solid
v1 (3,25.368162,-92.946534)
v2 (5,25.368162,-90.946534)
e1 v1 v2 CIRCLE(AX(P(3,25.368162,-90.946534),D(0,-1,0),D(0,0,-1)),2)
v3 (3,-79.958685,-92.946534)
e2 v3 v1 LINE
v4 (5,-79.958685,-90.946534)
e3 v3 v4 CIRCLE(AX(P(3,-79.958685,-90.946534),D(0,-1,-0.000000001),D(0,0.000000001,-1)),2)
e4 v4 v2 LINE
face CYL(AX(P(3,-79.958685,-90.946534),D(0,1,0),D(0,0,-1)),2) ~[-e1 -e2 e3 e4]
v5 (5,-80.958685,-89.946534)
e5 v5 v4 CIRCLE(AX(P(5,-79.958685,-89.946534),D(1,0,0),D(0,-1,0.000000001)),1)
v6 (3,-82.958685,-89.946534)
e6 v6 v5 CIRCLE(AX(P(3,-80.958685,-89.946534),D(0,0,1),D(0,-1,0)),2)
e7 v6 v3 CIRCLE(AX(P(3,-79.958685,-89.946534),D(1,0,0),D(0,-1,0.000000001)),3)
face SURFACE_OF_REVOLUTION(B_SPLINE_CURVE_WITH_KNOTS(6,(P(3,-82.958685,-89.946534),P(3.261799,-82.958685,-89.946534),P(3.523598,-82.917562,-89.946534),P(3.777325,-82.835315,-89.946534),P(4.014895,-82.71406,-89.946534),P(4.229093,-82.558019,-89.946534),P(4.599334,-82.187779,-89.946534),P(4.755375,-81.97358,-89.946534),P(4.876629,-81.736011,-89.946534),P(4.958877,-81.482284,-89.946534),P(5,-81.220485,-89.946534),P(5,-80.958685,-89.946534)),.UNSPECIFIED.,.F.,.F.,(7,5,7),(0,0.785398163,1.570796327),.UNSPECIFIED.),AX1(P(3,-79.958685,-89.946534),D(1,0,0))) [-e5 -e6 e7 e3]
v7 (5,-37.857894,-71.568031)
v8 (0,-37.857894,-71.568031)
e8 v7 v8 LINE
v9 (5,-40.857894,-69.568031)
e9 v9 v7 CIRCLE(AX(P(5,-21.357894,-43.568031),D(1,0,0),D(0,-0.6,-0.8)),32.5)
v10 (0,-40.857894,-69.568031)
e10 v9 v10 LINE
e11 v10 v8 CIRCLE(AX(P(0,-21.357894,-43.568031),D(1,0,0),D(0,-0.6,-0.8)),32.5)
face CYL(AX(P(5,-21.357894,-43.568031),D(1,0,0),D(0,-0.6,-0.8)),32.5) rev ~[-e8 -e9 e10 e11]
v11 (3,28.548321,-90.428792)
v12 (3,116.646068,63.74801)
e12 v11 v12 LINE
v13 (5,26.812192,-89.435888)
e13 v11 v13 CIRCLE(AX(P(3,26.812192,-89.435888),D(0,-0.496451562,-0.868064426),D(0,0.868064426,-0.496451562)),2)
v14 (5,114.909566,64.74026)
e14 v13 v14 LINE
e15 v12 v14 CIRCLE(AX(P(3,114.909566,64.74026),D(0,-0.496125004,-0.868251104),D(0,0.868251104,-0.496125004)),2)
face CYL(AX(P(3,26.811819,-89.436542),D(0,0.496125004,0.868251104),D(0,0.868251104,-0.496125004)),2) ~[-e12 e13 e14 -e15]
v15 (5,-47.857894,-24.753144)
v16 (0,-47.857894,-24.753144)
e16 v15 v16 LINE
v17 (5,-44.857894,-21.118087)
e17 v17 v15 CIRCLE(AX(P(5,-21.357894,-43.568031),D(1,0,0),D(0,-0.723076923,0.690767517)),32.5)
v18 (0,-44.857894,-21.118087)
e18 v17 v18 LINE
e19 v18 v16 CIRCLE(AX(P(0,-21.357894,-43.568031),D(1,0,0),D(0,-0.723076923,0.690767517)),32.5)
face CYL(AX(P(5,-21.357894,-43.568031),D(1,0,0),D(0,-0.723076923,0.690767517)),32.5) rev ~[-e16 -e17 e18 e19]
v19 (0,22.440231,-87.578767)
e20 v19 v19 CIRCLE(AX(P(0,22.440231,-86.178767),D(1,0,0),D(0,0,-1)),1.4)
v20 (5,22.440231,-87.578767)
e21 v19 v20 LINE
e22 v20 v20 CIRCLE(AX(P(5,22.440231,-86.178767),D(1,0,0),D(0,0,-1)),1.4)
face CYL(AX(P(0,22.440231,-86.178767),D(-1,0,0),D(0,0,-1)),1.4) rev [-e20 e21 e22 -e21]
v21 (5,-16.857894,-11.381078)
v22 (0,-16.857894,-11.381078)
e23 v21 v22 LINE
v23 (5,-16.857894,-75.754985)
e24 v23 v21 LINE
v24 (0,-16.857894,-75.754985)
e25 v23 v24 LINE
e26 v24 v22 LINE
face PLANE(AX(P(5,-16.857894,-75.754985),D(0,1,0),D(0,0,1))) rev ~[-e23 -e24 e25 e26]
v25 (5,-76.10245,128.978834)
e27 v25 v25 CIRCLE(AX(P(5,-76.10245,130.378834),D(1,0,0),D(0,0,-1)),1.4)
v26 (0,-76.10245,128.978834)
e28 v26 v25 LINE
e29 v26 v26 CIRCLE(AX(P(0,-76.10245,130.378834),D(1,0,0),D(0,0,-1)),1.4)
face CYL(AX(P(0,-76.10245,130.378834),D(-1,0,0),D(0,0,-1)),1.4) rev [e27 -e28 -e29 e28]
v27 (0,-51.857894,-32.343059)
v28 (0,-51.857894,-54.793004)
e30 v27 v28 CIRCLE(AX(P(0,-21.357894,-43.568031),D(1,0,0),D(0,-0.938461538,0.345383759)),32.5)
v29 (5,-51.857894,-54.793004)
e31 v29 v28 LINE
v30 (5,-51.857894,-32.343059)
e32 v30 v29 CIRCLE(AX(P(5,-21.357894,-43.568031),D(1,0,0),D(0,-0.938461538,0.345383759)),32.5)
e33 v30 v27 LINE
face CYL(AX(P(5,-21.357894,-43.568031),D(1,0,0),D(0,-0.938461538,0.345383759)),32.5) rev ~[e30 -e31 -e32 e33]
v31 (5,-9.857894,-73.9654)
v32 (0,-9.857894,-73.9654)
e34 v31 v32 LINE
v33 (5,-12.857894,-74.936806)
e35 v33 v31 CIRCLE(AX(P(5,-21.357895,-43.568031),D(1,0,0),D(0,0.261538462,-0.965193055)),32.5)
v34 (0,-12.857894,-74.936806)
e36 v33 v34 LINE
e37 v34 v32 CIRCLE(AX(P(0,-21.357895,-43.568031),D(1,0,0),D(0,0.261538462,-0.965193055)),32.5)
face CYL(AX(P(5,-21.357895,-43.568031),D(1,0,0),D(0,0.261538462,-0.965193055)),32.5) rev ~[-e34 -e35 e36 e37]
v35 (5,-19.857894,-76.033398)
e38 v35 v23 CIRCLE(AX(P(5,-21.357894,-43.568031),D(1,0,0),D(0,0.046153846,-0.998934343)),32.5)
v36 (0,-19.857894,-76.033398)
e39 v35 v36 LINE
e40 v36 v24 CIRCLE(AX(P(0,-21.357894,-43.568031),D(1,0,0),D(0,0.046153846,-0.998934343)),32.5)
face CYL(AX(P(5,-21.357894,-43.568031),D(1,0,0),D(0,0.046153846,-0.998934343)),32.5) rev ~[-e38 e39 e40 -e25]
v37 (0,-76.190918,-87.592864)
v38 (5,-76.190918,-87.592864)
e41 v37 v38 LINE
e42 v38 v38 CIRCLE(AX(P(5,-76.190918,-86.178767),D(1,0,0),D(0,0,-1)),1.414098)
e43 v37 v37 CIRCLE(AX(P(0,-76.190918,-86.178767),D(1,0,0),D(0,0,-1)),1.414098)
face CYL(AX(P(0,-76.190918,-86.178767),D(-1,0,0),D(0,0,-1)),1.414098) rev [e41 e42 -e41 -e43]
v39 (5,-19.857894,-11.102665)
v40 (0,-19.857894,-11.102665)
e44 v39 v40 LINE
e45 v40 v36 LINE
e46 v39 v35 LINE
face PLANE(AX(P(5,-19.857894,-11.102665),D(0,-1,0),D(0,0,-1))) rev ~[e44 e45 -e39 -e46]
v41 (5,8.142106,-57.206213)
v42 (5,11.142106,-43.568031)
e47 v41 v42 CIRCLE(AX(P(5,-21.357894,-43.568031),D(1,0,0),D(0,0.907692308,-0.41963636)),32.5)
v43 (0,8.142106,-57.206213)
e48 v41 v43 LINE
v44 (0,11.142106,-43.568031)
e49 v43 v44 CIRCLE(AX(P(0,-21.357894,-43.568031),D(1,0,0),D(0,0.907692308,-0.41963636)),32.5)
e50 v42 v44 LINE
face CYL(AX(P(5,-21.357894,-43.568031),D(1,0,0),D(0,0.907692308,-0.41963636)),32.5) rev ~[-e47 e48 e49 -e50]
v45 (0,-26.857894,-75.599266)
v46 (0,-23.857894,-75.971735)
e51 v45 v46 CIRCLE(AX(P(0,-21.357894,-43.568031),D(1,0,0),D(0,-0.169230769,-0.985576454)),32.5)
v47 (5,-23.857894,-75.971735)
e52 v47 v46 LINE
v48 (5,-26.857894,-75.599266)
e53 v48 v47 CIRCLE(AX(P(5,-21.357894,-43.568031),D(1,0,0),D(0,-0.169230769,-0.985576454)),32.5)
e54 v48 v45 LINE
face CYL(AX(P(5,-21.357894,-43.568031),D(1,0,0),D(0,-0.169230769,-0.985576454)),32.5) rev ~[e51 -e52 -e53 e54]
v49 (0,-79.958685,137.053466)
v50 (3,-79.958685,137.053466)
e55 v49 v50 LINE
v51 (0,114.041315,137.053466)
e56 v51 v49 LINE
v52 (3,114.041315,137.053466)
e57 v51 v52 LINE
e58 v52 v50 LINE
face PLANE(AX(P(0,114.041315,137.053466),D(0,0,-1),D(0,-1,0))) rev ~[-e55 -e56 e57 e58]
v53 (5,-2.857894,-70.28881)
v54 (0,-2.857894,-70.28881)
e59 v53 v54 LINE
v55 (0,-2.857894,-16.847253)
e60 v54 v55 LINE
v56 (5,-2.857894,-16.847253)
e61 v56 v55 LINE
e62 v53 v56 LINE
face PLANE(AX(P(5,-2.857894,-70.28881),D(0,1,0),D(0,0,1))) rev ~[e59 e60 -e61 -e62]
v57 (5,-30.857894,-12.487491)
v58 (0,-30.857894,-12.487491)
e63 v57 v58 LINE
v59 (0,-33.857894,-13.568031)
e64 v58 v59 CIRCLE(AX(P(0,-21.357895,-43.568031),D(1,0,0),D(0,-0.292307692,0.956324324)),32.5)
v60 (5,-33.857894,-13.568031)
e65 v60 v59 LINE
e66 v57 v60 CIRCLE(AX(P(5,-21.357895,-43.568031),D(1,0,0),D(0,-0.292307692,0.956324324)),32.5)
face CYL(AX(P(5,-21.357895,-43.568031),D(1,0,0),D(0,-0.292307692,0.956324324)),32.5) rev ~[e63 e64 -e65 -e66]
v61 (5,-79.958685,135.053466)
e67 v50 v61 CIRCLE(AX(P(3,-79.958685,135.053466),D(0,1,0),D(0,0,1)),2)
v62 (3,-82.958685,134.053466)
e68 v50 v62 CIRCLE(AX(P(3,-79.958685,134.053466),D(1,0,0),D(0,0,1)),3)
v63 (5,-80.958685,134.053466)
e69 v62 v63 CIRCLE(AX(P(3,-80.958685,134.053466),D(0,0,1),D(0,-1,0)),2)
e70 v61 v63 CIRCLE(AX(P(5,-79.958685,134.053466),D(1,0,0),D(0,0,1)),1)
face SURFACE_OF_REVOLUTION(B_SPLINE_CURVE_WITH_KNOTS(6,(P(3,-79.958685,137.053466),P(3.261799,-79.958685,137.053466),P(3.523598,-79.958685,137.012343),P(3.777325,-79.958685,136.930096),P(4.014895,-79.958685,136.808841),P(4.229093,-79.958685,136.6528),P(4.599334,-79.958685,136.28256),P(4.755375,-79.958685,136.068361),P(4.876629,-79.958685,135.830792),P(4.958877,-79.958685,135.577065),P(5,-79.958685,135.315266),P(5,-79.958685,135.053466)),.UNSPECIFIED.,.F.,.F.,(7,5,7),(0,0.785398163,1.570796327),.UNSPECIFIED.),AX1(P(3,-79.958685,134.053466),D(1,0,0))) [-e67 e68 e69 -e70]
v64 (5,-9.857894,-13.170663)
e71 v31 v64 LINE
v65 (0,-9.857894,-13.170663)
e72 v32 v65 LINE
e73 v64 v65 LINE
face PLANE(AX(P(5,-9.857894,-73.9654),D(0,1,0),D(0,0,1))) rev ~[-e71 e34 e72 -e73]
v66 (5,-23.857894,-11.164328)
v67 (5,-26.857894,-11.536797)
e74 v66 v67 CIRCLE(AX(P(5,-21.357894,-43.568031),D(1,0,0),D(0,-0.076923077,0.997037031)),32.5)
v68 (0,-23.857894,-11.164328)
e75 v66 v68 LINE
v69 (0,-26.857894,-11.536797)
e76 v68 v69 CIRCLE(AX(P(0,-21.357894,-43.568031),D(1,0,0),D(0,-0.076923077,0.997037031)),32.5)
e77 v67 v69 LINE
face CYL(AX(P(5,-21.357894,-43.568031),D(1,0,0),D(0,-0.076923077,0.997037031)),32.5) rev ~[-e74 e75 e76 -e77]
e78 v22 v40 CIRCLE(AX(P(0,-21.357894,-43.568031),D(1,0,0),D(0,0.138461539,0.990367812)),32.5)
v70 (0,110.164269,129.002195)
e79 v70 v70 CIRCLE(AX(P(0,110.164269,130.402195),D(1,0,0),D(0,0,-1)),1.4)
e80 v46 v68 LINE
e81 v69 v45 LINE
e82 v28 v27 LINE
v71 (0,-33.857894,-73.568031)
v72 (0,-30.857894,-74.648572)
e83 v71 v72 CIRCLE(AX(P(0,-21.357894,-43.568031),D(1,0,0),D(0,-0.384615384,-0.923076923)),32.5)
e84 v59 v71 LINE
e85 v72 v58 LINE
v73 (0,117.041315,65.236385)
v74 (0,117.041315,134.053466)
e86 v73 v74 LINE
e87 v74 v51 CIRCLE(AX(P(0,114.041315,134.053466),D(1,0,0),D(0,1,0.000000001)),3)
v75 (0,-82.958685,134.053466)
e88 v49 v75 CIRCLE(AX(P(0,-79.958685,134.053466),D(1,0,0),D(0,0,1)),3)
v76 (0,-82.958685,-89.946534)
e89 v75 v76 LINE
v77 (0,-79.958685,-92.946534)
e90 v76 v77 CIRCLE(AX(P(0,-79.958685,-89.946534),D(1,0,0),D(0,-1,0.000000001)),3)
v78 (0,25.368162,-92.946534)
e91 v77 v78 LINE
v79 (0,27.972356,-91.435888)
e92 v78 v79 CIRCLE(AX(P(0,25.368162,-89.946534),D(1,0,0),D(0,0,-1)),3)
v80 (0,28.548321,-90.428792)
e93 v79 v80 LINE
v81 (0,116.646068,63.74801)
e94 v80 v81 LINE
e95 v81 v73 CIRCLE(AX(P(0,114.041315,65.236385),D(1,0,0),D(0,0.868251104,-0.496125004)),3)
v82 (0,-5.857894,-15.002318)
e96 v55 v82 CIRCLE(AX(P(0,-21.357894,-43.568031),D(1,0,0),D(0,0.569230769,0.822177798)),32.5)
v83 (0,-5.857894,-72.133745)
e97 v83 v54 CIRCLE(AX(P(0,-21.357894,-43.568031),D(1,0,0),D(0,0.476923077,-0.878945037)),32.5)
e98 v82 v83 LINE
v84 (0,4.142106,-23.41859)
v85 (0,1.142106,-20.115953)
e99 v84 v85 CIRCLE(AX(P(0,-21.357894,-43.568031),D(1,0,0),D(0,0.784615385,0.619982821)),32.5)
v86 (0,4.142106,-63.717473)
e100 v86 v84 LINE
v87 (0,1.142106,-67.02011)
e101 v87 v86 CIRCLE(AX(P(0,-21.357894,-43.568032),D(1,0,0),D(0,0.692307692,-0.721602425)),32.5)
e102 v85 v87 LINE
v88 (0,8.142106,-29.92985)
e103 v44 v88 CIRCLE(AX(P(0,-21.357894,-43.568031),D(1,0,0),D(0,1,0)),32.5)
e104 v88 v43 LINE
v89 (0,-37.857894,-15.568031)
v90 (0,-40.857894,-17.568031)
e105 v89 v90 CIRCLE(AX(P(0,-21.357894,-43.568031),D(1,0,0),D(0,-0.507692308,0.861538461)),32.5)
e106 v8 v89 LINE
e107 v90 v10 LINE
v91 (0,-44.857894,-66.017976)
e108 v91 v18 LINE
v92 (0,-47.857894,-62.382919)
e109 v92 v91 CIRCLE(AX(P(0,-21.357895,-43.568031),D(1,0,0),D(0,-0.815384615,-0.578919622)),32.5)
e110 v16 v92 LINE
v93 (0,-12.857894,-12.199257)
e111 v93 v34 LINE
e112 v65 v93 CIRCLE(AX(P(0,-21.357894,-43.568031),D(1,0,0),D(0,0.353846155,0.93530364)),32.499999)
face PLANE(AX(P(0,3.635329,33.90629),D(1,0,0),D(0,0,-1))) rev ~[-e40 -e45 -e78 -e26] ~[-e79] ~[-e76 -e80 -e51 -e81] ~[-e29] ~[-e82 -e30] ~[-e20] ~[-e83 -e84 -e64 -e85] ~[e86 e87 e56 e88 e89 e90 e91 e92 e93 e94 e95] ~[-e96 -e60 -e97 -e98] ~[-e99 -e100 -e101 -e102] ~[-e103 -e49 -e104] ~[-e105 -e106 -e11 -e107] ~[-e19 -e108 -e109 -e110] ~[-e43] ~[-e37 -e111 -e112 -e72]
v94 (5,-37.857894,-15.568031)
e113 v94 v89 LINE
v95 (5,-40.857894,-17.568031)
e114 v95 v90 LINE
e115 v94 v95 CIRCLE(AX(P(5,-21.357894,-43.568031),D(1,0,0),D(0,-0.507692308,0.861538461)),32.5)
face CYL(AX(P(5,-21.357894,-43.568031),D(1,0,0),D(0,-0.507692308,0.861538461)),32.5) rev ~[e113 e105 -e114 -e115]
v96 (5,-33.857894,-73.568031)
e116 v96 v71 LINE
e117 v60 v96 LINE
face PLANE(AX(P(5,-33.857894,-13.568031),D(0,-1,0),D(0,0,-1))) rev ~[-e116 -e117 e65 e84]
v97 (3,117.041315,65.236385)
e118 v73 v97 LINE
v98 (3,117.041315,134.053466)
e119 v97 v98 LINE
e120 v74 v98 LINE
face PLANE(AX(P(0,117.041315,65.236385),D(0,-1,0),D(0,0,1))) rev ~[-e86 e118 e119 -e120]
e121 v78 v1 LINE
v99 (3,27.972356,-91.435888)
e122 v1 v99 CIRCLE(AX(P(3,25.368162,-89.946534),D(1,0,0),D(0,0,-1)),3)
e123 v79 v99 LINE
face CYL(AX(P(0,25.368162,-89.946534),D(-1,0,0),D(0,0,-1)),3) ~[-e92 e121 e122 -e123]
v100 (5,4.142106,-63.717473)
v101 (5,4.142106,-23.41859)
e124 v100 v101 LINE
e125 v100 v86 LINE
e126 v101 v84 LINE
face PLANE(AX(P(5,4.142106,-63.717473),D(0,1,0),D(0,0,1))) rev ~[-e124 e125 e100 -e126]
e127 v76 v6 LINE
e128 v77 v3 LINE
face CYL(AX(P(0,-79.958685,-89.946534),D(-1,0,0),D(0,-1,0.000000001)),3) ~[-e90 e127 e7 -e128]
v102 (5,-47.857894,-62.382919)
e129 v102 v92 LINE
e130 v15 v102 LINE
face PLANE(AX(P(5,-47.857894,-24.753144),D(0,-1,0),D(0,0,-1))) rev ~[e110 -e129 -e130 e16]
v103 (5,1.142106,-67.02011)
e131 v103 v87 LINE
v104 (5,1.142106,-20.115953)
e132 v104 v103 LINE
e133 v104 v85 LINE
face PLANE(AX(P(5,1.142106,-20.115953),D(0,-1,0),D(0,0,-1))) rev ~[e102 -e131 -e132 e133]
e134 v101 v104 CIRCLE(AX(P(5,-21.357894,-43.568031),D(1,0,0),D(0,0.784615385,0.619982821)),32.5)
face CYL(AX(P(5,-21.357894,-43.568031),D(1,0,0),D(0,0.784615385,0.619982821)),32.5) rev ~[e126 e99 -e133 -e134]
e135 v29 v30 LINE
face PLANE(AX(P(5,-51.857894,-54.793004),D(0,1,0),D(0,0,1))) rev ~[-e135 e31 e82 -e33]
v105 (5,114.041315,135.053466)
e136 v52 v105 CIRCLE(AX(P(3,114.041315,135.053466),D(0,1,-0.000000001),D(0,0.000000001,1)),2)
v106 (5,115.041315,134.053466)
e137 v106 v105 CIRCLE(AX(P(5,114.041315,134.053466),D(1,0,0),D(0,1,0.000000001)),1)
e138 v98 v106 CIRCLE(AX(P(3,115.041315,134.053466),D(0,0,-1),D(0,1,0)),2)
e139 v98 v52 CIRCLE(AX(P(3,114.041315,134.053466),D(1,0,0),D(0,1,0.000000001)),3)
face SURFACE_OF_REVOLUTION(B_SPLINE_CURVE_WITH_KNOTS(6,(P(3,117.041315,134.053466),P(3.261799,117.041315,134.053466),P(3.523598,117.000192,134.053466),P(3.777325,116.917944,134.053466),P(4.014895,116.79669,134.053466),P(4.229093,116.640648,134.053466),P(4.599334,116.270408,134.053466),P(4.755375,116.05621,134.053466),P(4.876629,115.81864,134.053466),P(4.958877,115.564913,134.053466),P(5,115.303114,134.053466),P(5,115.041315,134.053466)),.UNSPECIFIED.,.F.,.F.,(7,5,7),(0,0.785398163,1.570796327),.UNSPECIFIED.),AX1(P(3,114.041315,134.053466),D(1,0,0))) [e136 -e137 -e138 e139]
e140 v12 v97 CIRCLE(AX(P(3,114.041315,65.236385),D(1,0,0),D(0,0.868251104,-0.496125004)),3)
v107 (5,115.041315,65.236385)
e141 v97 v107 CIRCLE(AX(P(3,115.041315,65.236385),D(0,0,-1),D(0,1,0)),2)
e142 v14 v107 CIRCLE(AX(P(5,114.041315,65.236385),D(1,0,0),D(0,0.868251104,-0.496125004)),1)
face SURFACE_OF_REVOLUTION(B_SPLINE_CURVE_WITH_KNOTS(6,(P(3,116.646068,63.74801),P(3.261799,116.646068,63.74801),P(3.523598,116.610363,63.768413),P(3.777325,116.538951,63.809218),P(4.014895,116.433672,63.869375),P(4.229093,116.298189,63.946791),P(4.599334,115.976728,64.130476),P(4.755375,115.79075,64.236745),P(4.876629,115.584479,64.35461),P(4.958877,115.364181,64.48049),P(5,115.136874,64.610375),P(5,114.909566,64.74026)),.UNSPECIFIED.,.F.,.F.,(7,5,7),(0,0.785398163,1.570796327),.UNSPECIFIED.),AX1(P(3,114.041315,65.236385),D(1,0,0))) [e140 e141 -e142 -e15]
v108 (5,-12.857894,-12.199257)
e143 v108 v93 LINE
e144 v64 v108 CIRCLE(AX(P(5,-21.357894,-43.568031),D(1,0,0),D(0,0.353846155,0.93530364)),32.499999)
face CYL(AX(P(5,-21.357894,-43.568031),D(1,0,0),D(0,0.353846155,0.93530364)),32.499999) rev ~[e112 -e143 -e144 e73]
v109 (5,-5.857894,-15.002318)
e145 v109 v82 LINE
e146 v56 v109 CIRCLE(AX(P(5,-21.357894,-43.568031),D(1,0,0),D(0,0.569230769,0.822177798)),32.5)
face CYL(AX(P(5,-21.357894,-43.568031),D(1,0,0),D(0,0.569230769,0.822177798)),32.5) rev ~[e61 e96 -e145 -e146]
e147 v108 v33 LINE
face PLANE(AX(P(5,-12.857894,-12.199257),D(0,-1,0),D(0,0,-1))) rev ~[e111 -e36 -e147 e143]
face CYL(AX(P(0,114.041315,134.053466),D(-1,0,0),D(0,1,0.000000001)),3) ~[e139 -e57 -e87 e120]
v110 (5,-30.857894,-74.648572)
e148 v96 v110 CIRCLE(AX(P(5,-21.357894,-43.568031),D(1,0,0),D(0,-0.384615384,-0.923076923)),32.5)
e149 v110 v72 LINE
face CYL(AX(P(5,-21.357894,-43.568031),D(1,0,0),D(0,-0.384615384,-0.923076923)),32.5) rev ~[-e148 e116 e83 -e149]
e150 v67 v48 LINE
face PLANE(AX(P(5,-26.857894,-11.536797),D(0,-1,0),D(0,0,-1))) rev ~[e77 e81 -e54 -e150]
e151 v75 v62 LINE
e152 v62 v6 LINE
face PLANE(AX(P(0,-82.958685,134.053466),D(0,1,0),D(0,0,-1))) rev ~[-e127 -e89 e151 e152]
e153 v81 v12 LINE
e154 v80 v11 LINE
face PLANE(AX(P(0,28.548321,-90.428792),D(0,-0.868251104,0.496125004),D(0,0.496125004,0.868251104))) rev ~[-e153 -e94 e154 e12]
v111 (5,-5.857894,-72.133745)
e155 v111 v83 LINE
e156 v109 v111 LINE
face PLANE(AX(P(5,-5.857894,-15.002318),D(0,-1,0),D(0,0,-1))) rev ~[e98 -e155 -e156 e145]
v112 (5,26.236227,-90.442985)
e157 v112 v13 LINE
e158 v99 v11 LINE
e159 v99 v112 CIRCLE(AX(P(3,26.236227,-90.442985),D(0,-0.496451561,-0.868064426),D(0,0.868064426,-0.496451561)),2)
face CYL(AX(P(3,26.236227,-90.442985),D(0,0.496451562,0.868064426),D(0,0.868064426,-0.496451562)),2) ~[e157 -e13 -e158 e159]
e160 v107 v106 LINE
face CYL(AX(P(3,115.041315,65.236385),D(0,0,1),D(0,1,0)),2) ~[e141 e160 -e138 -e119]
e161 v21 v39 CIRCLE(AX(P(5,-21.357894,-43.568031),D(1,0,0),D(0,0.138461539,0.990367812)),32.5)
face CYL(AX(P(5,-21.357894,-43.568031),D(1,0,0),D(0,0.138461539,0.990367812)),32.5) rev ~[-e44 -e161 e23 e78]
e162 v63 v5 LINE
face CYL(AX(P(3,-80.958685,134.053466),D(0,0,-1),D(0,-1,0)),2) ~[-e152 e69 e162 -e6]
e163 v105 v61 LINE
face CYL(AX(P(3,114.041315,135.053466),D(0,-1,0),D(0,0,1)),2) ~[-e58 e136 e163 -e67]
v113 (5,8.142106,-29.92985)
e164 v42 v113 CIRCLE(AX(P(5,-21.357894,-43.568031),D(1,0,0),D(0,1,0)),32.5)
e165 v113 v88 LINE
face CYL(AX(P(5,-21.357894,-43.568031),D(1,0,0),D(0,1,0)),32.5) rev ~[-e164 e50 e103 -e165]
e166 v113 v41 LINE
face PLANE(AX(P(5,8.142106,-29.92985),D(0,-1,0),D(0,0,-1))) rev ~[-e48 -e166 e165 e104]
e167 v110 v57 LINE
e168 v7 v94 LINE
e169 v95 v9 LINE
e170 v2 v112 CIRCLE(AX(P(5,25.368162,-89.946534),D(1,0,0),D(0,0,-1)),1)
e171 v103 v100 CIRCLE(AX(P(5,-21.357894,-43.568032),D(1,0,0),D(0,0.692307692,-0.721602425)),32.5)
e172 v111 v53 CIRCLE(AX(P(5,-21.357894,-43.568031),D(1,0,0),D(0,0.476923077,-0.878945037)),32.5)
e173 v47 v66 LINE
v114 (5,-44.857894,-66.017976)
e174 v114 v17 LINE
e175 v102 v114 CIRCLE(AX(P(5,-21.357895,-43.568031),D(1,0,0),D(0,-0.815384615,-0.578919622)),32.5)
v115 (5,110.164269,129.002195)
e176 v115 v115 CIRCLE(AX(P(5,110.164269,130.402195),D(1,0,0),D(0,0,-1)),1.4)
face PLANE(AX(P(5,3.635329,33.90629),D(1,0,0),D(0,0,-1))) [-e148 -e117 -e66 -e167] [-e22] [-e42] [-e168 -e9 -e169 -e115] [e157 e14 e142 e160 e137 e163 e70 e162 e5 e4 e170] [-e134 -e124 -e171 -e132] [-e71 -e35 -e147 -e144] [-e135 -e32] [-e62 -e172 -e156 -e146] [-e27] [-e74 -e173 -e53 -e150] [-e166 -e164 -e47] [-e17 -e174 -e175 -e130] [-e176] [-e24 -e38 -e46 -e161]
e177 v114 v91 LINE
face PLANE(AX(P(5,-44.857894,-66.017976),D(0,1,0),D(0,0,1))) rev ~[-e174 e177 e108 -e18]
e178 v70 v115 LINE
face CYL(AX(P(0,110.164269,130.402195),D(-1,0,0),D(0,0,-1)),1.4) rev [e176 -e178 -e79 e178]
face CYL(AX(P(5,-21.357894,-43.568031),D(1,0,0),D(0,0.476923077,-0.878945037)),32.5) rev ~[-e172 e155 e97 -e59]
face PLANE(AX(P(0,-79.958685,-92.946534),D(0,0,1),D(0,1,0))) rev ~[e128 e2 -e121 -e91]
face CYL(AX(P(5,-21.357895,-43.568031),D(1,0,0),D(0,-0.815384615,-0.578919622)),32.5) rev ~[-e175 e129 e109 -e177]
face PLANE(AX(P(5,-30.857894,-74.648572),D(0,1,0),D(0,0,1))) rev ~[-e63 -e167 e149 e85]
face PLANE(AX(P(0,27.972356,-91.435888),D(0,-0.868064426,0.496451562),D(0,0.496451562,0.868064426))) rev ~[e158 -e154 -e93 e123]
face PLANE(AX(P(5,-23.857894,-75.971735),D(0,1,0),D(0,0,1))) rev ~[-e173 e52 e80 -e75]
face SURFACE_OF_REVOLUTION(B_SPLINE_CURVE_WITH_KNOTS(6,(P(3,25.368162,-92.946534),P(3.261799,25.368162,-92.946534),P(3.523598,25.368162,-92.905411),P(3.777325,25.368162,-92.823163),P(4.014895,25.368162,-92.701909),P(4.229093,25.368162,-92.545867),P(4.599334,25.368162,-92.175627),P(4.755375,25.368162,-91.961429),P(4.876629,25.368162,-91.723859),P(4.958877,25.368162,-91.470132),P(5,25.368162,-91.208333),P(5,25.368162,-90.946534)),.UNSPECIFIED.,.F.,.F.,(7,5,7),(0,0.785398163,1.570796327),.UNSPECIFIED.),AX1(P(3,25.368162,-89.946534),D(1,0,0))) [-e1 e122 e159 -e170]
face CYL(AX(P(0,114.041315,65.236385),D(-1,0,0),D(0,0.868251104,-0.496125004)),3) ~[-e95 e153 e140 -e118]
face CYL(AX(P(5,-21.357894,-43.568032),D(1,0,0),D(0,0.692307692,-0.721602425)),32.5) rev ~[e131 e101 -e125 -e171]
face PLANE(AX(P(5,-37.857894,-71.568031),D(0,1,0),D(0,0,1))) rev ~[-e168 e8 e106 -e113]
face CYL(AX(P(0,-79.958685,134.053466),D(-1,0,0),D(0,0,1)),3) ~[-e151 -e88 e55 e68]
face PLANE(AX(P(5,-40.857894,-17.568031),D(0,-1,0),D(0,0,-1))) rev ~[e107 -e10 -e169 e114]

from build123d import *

# Parameters (mm, degrees)
SKETCH2_R           = 1.4
SKETCH2_R_2         = 1.414097505
BOSS_EXTRUDE2_DEPTH = 5
CUT_EXTRUDE1_DEPTH  = 5
FILLET4_R           = 2


with BuildPart() as part:
    # Sketch2 → Boss-Extrude2 (new body)
    with BuildSketch(Plane(origin=(0, 0, 0), x_dir=(0, 0, -1), z_dir=(1, 0, 0))):
        with BuildLine():
            Line((-137.05346623, 114.041314814), (-137.05346623, -79.958685186))
            ThreePointArc((-137.05346623, -79.958685186), (-136.174786573, -82.08000553), (-134.05346623, -82.958685186))
            Line((-134.05346623, -82.958685186), (89.94653377, -82.958685186))
            ThreePointArc((89.94653377, -82.958685186), (92.067854114, -82.08000553), (92.94653377, -79.958685186))
            Line((92.94653377, -79.958685186), (92.94653377, 25.368162352))
            ThreePointArc((92.94653377, 25.368162352), (92.541535124, 26.8734756), (91.435888454, 27.97235563))
            Line((91.435888454, 27.97235563), (90.428791577, 28.548320734))
            Line((90.428791577, 28.548320734), (-63.7480103, 116.646068127))
            ThreePointArc((-63.7480103, 116.646068127), (-64.466404774, 116.940819939), (-65.236385313, 117.041314814))
            Line((-65.236385313, 117.041314814), (-134.05346623, 117.041314814))
            ThreePointArc((-134.05346623, 117.041314814), (-136.174786573, 116.162635157), (-137.05346623, 114.041314814))
        make_face()
        with Locations((-130.402194721, 110.164268622)):
            Circle(SKETCH2_R, mode=Mode.SUBTRACT)
        with Locations((-130.378834203, -76.102450402)):
            Circle(SKETCH2_R, mode=Mode.SUBTRACT)
        with Locations((86.178766817, -76.190918233)):
            Circle(SKETCH2_R_2, mode=Mode.SUBTRACT)
        with Locations((86.178766817, 22.440231448)):
            Circle(SKETCH2_R, mode=Mode.SUBTRACT)
    extrude(amount=BOSS_EXTRUDE2_DEPTH)

    # Sketch3 → Cut-Extrude1 (cut)
    with BuildSketch(Plane(origin=(5, 0, 0), x_dir=(0, 0, -1), z_dir=(1, 0, 0))):
        with BuildLine():
            ThreePointArc((43.568031387, 11.142105509), (36.585911365, 10.383246006), (29.92984969, 8.142105509))
            Line((29.92984969, 8.142105509), (57.206213084, 8.142105509))
            ThreePointArc((57.206213084, 8.142105509), (50.550151409, 10.383246006), (43.568031387, 11.142105509))
        make_face()
        with BuildLine():
            ThreePointArc((23.418589707, 4.142105509), (21.715728373, 2.69884787), (20.115952588, 1.142105509))
            Line((20.115952588, 1.142105509), (67.020110186, 1.142105509))
            ThreePointArc((67.020110186, 1.142105509), (65.420334401, 2.69884787), (63.717473066, 4.142105509))
            Line((63.717473066, 4.142105509), (23.418589707, 4.142105509))
        make_face()
        with BuildLine():
            Line((70.288809819, -2.857894491), (16.847252955, -2.857894491))
            ThreePointArc((16.847252955, -2.857894491), (15.884118126, -4.332885047), (15.002317673, -5.857894491))
            Line((15.002317673, -5.857894491), (72.133745101, -5.857894491))
            ThreePointArc((72.133745101, -5.857894491), (71.251944648, -4.332885047), (70.288809819, -2.857894491))
        make_face()
        with BuildLine():
            Line((73.965399694, -9.857894491), (13.17066308, -9.857894491))
            ThreePointArc((13.17066308, -9.857894491), (12.648553826, -11.346106069), (12.199257104, -12.857894491))
            Line((12.199257104, -12.857894491), (74.93680567, -12.857894491))
            ThreePointArc((74.93680567, -12.857894491), (74.487508947, -11.346106069), (73.965399694, -9.857894491))
        make_face()
        with BuildLine():
            Line((75.754985266, -16.857894491), (11.381077508, -16.857894491))
            ThreePointArc((11.381077508, -16.857894491), (11.207088544, -18.354666502), (11.102665225, -19.857894491))
            Line((11.102665225, -19.857894491), (76.033397548, -19.857894491))
            ThreePointArc((76.033397548, -19.857894491), (75.928974229, -18.354666502), (75.754985266, -16.857894491))
        make_face()
        with BuildLine():
            Line((75.971734879, -23.857894491), (11.164327895, -23.857894491))
            ThreePointArc((11.164327895, -23.857894491), (11.315662222, -25.362227549), (11.536796631, -26.857894491))
            Line((11.536796631, -26.857894491), (75.599266143, -26.857894491))
            ThreePointArc((75.599266143, -26.857894491), (75.820400552, -25.362227549), (75.971734879, -23.857894491))
        make_face()
        with BuildLine():
            Line((74.648571923, -30.857894491), (12.487490851, -30.857894491))
            ThreePointArc((12.487490851, -30.857894491), (12.990946698, -32.371154315), (13.568031387, -33.857894491))
            Line((13.568031387, -33.857894491), (73.568031387, -33.857894491))
            ThreePointArc((73.568031387, -33.857894491), (74.145116075, -32.371154315), (74.648571923, -30.857894491))
        make_face()
        with BuildLine():
            Line((71.568031387, -37.857894491), (15.568031387, -37.857894491))
            ThreePointArc((15.568031387, -37.857894491), (16.526396821, -39.385650868), (17.568031387, -40.857894491))
            Line((17.568031387, -40.857894491), (69.568031387, -40.857894491))
            ThreePointArc((69.568031387, -40.857894491), (70.609665953, -39.385650868), (71.568031387, -37.857894491))
        make_face()
        with BuildLine():
            Line((66.017975707, -44.857894491), (21.118087066, -44.857894491))
            ThreePointArc((21.118087066, -44.857894491), (22.881161375, -46.423875603), (24.753143665, -47.857894491))
            Line((24.753143665, -47.857894491), (62.382919109, -47.857894491))
            ThreePointArc((62.382919109, -47.857894491), (64.254901399, -46.423875603), (66.017975707, -44.857894491))
        make_face()
        with BuildLine():
            Line((54.793003547, -51.857894491), (32.343059226, -51.857894491))
            ThreePointArc((32.343059226, -51.857894491), (43.568031387, -53.857894491), (54.793003547, -51.857894491))
        make_face()
    extrude(amount=-CUT_EXTRUDE1_DEPTH, mode=Mode.SUBTRACT)

    # Fillet4
    fillet4_edges = [part.edges().sort_by_distance(p)[0] for p in [
        (5, -82.08000553, 136.174786573),
        (5, -82.958685186, 22.05346623),
        (5, -82.08000553, -92.067854114),
        (5, -27.295261417, -92.94653377),
        (5, 26.8734756, -92.541535124),
        (5, 28.260338182, -90.932340015),
        (5, 72.59719443, -13.340390638),
        (5, 116.940819939, 64.466404774),
        (5, 117.041314814, 99.644925771),
        (5, 116.162635157, 136.174786573),
        (5, 17.041314814, 137.05346623),
    ]]
    fillet(fillet4_edges, radius=FILLET4_R)


solid = part.part
